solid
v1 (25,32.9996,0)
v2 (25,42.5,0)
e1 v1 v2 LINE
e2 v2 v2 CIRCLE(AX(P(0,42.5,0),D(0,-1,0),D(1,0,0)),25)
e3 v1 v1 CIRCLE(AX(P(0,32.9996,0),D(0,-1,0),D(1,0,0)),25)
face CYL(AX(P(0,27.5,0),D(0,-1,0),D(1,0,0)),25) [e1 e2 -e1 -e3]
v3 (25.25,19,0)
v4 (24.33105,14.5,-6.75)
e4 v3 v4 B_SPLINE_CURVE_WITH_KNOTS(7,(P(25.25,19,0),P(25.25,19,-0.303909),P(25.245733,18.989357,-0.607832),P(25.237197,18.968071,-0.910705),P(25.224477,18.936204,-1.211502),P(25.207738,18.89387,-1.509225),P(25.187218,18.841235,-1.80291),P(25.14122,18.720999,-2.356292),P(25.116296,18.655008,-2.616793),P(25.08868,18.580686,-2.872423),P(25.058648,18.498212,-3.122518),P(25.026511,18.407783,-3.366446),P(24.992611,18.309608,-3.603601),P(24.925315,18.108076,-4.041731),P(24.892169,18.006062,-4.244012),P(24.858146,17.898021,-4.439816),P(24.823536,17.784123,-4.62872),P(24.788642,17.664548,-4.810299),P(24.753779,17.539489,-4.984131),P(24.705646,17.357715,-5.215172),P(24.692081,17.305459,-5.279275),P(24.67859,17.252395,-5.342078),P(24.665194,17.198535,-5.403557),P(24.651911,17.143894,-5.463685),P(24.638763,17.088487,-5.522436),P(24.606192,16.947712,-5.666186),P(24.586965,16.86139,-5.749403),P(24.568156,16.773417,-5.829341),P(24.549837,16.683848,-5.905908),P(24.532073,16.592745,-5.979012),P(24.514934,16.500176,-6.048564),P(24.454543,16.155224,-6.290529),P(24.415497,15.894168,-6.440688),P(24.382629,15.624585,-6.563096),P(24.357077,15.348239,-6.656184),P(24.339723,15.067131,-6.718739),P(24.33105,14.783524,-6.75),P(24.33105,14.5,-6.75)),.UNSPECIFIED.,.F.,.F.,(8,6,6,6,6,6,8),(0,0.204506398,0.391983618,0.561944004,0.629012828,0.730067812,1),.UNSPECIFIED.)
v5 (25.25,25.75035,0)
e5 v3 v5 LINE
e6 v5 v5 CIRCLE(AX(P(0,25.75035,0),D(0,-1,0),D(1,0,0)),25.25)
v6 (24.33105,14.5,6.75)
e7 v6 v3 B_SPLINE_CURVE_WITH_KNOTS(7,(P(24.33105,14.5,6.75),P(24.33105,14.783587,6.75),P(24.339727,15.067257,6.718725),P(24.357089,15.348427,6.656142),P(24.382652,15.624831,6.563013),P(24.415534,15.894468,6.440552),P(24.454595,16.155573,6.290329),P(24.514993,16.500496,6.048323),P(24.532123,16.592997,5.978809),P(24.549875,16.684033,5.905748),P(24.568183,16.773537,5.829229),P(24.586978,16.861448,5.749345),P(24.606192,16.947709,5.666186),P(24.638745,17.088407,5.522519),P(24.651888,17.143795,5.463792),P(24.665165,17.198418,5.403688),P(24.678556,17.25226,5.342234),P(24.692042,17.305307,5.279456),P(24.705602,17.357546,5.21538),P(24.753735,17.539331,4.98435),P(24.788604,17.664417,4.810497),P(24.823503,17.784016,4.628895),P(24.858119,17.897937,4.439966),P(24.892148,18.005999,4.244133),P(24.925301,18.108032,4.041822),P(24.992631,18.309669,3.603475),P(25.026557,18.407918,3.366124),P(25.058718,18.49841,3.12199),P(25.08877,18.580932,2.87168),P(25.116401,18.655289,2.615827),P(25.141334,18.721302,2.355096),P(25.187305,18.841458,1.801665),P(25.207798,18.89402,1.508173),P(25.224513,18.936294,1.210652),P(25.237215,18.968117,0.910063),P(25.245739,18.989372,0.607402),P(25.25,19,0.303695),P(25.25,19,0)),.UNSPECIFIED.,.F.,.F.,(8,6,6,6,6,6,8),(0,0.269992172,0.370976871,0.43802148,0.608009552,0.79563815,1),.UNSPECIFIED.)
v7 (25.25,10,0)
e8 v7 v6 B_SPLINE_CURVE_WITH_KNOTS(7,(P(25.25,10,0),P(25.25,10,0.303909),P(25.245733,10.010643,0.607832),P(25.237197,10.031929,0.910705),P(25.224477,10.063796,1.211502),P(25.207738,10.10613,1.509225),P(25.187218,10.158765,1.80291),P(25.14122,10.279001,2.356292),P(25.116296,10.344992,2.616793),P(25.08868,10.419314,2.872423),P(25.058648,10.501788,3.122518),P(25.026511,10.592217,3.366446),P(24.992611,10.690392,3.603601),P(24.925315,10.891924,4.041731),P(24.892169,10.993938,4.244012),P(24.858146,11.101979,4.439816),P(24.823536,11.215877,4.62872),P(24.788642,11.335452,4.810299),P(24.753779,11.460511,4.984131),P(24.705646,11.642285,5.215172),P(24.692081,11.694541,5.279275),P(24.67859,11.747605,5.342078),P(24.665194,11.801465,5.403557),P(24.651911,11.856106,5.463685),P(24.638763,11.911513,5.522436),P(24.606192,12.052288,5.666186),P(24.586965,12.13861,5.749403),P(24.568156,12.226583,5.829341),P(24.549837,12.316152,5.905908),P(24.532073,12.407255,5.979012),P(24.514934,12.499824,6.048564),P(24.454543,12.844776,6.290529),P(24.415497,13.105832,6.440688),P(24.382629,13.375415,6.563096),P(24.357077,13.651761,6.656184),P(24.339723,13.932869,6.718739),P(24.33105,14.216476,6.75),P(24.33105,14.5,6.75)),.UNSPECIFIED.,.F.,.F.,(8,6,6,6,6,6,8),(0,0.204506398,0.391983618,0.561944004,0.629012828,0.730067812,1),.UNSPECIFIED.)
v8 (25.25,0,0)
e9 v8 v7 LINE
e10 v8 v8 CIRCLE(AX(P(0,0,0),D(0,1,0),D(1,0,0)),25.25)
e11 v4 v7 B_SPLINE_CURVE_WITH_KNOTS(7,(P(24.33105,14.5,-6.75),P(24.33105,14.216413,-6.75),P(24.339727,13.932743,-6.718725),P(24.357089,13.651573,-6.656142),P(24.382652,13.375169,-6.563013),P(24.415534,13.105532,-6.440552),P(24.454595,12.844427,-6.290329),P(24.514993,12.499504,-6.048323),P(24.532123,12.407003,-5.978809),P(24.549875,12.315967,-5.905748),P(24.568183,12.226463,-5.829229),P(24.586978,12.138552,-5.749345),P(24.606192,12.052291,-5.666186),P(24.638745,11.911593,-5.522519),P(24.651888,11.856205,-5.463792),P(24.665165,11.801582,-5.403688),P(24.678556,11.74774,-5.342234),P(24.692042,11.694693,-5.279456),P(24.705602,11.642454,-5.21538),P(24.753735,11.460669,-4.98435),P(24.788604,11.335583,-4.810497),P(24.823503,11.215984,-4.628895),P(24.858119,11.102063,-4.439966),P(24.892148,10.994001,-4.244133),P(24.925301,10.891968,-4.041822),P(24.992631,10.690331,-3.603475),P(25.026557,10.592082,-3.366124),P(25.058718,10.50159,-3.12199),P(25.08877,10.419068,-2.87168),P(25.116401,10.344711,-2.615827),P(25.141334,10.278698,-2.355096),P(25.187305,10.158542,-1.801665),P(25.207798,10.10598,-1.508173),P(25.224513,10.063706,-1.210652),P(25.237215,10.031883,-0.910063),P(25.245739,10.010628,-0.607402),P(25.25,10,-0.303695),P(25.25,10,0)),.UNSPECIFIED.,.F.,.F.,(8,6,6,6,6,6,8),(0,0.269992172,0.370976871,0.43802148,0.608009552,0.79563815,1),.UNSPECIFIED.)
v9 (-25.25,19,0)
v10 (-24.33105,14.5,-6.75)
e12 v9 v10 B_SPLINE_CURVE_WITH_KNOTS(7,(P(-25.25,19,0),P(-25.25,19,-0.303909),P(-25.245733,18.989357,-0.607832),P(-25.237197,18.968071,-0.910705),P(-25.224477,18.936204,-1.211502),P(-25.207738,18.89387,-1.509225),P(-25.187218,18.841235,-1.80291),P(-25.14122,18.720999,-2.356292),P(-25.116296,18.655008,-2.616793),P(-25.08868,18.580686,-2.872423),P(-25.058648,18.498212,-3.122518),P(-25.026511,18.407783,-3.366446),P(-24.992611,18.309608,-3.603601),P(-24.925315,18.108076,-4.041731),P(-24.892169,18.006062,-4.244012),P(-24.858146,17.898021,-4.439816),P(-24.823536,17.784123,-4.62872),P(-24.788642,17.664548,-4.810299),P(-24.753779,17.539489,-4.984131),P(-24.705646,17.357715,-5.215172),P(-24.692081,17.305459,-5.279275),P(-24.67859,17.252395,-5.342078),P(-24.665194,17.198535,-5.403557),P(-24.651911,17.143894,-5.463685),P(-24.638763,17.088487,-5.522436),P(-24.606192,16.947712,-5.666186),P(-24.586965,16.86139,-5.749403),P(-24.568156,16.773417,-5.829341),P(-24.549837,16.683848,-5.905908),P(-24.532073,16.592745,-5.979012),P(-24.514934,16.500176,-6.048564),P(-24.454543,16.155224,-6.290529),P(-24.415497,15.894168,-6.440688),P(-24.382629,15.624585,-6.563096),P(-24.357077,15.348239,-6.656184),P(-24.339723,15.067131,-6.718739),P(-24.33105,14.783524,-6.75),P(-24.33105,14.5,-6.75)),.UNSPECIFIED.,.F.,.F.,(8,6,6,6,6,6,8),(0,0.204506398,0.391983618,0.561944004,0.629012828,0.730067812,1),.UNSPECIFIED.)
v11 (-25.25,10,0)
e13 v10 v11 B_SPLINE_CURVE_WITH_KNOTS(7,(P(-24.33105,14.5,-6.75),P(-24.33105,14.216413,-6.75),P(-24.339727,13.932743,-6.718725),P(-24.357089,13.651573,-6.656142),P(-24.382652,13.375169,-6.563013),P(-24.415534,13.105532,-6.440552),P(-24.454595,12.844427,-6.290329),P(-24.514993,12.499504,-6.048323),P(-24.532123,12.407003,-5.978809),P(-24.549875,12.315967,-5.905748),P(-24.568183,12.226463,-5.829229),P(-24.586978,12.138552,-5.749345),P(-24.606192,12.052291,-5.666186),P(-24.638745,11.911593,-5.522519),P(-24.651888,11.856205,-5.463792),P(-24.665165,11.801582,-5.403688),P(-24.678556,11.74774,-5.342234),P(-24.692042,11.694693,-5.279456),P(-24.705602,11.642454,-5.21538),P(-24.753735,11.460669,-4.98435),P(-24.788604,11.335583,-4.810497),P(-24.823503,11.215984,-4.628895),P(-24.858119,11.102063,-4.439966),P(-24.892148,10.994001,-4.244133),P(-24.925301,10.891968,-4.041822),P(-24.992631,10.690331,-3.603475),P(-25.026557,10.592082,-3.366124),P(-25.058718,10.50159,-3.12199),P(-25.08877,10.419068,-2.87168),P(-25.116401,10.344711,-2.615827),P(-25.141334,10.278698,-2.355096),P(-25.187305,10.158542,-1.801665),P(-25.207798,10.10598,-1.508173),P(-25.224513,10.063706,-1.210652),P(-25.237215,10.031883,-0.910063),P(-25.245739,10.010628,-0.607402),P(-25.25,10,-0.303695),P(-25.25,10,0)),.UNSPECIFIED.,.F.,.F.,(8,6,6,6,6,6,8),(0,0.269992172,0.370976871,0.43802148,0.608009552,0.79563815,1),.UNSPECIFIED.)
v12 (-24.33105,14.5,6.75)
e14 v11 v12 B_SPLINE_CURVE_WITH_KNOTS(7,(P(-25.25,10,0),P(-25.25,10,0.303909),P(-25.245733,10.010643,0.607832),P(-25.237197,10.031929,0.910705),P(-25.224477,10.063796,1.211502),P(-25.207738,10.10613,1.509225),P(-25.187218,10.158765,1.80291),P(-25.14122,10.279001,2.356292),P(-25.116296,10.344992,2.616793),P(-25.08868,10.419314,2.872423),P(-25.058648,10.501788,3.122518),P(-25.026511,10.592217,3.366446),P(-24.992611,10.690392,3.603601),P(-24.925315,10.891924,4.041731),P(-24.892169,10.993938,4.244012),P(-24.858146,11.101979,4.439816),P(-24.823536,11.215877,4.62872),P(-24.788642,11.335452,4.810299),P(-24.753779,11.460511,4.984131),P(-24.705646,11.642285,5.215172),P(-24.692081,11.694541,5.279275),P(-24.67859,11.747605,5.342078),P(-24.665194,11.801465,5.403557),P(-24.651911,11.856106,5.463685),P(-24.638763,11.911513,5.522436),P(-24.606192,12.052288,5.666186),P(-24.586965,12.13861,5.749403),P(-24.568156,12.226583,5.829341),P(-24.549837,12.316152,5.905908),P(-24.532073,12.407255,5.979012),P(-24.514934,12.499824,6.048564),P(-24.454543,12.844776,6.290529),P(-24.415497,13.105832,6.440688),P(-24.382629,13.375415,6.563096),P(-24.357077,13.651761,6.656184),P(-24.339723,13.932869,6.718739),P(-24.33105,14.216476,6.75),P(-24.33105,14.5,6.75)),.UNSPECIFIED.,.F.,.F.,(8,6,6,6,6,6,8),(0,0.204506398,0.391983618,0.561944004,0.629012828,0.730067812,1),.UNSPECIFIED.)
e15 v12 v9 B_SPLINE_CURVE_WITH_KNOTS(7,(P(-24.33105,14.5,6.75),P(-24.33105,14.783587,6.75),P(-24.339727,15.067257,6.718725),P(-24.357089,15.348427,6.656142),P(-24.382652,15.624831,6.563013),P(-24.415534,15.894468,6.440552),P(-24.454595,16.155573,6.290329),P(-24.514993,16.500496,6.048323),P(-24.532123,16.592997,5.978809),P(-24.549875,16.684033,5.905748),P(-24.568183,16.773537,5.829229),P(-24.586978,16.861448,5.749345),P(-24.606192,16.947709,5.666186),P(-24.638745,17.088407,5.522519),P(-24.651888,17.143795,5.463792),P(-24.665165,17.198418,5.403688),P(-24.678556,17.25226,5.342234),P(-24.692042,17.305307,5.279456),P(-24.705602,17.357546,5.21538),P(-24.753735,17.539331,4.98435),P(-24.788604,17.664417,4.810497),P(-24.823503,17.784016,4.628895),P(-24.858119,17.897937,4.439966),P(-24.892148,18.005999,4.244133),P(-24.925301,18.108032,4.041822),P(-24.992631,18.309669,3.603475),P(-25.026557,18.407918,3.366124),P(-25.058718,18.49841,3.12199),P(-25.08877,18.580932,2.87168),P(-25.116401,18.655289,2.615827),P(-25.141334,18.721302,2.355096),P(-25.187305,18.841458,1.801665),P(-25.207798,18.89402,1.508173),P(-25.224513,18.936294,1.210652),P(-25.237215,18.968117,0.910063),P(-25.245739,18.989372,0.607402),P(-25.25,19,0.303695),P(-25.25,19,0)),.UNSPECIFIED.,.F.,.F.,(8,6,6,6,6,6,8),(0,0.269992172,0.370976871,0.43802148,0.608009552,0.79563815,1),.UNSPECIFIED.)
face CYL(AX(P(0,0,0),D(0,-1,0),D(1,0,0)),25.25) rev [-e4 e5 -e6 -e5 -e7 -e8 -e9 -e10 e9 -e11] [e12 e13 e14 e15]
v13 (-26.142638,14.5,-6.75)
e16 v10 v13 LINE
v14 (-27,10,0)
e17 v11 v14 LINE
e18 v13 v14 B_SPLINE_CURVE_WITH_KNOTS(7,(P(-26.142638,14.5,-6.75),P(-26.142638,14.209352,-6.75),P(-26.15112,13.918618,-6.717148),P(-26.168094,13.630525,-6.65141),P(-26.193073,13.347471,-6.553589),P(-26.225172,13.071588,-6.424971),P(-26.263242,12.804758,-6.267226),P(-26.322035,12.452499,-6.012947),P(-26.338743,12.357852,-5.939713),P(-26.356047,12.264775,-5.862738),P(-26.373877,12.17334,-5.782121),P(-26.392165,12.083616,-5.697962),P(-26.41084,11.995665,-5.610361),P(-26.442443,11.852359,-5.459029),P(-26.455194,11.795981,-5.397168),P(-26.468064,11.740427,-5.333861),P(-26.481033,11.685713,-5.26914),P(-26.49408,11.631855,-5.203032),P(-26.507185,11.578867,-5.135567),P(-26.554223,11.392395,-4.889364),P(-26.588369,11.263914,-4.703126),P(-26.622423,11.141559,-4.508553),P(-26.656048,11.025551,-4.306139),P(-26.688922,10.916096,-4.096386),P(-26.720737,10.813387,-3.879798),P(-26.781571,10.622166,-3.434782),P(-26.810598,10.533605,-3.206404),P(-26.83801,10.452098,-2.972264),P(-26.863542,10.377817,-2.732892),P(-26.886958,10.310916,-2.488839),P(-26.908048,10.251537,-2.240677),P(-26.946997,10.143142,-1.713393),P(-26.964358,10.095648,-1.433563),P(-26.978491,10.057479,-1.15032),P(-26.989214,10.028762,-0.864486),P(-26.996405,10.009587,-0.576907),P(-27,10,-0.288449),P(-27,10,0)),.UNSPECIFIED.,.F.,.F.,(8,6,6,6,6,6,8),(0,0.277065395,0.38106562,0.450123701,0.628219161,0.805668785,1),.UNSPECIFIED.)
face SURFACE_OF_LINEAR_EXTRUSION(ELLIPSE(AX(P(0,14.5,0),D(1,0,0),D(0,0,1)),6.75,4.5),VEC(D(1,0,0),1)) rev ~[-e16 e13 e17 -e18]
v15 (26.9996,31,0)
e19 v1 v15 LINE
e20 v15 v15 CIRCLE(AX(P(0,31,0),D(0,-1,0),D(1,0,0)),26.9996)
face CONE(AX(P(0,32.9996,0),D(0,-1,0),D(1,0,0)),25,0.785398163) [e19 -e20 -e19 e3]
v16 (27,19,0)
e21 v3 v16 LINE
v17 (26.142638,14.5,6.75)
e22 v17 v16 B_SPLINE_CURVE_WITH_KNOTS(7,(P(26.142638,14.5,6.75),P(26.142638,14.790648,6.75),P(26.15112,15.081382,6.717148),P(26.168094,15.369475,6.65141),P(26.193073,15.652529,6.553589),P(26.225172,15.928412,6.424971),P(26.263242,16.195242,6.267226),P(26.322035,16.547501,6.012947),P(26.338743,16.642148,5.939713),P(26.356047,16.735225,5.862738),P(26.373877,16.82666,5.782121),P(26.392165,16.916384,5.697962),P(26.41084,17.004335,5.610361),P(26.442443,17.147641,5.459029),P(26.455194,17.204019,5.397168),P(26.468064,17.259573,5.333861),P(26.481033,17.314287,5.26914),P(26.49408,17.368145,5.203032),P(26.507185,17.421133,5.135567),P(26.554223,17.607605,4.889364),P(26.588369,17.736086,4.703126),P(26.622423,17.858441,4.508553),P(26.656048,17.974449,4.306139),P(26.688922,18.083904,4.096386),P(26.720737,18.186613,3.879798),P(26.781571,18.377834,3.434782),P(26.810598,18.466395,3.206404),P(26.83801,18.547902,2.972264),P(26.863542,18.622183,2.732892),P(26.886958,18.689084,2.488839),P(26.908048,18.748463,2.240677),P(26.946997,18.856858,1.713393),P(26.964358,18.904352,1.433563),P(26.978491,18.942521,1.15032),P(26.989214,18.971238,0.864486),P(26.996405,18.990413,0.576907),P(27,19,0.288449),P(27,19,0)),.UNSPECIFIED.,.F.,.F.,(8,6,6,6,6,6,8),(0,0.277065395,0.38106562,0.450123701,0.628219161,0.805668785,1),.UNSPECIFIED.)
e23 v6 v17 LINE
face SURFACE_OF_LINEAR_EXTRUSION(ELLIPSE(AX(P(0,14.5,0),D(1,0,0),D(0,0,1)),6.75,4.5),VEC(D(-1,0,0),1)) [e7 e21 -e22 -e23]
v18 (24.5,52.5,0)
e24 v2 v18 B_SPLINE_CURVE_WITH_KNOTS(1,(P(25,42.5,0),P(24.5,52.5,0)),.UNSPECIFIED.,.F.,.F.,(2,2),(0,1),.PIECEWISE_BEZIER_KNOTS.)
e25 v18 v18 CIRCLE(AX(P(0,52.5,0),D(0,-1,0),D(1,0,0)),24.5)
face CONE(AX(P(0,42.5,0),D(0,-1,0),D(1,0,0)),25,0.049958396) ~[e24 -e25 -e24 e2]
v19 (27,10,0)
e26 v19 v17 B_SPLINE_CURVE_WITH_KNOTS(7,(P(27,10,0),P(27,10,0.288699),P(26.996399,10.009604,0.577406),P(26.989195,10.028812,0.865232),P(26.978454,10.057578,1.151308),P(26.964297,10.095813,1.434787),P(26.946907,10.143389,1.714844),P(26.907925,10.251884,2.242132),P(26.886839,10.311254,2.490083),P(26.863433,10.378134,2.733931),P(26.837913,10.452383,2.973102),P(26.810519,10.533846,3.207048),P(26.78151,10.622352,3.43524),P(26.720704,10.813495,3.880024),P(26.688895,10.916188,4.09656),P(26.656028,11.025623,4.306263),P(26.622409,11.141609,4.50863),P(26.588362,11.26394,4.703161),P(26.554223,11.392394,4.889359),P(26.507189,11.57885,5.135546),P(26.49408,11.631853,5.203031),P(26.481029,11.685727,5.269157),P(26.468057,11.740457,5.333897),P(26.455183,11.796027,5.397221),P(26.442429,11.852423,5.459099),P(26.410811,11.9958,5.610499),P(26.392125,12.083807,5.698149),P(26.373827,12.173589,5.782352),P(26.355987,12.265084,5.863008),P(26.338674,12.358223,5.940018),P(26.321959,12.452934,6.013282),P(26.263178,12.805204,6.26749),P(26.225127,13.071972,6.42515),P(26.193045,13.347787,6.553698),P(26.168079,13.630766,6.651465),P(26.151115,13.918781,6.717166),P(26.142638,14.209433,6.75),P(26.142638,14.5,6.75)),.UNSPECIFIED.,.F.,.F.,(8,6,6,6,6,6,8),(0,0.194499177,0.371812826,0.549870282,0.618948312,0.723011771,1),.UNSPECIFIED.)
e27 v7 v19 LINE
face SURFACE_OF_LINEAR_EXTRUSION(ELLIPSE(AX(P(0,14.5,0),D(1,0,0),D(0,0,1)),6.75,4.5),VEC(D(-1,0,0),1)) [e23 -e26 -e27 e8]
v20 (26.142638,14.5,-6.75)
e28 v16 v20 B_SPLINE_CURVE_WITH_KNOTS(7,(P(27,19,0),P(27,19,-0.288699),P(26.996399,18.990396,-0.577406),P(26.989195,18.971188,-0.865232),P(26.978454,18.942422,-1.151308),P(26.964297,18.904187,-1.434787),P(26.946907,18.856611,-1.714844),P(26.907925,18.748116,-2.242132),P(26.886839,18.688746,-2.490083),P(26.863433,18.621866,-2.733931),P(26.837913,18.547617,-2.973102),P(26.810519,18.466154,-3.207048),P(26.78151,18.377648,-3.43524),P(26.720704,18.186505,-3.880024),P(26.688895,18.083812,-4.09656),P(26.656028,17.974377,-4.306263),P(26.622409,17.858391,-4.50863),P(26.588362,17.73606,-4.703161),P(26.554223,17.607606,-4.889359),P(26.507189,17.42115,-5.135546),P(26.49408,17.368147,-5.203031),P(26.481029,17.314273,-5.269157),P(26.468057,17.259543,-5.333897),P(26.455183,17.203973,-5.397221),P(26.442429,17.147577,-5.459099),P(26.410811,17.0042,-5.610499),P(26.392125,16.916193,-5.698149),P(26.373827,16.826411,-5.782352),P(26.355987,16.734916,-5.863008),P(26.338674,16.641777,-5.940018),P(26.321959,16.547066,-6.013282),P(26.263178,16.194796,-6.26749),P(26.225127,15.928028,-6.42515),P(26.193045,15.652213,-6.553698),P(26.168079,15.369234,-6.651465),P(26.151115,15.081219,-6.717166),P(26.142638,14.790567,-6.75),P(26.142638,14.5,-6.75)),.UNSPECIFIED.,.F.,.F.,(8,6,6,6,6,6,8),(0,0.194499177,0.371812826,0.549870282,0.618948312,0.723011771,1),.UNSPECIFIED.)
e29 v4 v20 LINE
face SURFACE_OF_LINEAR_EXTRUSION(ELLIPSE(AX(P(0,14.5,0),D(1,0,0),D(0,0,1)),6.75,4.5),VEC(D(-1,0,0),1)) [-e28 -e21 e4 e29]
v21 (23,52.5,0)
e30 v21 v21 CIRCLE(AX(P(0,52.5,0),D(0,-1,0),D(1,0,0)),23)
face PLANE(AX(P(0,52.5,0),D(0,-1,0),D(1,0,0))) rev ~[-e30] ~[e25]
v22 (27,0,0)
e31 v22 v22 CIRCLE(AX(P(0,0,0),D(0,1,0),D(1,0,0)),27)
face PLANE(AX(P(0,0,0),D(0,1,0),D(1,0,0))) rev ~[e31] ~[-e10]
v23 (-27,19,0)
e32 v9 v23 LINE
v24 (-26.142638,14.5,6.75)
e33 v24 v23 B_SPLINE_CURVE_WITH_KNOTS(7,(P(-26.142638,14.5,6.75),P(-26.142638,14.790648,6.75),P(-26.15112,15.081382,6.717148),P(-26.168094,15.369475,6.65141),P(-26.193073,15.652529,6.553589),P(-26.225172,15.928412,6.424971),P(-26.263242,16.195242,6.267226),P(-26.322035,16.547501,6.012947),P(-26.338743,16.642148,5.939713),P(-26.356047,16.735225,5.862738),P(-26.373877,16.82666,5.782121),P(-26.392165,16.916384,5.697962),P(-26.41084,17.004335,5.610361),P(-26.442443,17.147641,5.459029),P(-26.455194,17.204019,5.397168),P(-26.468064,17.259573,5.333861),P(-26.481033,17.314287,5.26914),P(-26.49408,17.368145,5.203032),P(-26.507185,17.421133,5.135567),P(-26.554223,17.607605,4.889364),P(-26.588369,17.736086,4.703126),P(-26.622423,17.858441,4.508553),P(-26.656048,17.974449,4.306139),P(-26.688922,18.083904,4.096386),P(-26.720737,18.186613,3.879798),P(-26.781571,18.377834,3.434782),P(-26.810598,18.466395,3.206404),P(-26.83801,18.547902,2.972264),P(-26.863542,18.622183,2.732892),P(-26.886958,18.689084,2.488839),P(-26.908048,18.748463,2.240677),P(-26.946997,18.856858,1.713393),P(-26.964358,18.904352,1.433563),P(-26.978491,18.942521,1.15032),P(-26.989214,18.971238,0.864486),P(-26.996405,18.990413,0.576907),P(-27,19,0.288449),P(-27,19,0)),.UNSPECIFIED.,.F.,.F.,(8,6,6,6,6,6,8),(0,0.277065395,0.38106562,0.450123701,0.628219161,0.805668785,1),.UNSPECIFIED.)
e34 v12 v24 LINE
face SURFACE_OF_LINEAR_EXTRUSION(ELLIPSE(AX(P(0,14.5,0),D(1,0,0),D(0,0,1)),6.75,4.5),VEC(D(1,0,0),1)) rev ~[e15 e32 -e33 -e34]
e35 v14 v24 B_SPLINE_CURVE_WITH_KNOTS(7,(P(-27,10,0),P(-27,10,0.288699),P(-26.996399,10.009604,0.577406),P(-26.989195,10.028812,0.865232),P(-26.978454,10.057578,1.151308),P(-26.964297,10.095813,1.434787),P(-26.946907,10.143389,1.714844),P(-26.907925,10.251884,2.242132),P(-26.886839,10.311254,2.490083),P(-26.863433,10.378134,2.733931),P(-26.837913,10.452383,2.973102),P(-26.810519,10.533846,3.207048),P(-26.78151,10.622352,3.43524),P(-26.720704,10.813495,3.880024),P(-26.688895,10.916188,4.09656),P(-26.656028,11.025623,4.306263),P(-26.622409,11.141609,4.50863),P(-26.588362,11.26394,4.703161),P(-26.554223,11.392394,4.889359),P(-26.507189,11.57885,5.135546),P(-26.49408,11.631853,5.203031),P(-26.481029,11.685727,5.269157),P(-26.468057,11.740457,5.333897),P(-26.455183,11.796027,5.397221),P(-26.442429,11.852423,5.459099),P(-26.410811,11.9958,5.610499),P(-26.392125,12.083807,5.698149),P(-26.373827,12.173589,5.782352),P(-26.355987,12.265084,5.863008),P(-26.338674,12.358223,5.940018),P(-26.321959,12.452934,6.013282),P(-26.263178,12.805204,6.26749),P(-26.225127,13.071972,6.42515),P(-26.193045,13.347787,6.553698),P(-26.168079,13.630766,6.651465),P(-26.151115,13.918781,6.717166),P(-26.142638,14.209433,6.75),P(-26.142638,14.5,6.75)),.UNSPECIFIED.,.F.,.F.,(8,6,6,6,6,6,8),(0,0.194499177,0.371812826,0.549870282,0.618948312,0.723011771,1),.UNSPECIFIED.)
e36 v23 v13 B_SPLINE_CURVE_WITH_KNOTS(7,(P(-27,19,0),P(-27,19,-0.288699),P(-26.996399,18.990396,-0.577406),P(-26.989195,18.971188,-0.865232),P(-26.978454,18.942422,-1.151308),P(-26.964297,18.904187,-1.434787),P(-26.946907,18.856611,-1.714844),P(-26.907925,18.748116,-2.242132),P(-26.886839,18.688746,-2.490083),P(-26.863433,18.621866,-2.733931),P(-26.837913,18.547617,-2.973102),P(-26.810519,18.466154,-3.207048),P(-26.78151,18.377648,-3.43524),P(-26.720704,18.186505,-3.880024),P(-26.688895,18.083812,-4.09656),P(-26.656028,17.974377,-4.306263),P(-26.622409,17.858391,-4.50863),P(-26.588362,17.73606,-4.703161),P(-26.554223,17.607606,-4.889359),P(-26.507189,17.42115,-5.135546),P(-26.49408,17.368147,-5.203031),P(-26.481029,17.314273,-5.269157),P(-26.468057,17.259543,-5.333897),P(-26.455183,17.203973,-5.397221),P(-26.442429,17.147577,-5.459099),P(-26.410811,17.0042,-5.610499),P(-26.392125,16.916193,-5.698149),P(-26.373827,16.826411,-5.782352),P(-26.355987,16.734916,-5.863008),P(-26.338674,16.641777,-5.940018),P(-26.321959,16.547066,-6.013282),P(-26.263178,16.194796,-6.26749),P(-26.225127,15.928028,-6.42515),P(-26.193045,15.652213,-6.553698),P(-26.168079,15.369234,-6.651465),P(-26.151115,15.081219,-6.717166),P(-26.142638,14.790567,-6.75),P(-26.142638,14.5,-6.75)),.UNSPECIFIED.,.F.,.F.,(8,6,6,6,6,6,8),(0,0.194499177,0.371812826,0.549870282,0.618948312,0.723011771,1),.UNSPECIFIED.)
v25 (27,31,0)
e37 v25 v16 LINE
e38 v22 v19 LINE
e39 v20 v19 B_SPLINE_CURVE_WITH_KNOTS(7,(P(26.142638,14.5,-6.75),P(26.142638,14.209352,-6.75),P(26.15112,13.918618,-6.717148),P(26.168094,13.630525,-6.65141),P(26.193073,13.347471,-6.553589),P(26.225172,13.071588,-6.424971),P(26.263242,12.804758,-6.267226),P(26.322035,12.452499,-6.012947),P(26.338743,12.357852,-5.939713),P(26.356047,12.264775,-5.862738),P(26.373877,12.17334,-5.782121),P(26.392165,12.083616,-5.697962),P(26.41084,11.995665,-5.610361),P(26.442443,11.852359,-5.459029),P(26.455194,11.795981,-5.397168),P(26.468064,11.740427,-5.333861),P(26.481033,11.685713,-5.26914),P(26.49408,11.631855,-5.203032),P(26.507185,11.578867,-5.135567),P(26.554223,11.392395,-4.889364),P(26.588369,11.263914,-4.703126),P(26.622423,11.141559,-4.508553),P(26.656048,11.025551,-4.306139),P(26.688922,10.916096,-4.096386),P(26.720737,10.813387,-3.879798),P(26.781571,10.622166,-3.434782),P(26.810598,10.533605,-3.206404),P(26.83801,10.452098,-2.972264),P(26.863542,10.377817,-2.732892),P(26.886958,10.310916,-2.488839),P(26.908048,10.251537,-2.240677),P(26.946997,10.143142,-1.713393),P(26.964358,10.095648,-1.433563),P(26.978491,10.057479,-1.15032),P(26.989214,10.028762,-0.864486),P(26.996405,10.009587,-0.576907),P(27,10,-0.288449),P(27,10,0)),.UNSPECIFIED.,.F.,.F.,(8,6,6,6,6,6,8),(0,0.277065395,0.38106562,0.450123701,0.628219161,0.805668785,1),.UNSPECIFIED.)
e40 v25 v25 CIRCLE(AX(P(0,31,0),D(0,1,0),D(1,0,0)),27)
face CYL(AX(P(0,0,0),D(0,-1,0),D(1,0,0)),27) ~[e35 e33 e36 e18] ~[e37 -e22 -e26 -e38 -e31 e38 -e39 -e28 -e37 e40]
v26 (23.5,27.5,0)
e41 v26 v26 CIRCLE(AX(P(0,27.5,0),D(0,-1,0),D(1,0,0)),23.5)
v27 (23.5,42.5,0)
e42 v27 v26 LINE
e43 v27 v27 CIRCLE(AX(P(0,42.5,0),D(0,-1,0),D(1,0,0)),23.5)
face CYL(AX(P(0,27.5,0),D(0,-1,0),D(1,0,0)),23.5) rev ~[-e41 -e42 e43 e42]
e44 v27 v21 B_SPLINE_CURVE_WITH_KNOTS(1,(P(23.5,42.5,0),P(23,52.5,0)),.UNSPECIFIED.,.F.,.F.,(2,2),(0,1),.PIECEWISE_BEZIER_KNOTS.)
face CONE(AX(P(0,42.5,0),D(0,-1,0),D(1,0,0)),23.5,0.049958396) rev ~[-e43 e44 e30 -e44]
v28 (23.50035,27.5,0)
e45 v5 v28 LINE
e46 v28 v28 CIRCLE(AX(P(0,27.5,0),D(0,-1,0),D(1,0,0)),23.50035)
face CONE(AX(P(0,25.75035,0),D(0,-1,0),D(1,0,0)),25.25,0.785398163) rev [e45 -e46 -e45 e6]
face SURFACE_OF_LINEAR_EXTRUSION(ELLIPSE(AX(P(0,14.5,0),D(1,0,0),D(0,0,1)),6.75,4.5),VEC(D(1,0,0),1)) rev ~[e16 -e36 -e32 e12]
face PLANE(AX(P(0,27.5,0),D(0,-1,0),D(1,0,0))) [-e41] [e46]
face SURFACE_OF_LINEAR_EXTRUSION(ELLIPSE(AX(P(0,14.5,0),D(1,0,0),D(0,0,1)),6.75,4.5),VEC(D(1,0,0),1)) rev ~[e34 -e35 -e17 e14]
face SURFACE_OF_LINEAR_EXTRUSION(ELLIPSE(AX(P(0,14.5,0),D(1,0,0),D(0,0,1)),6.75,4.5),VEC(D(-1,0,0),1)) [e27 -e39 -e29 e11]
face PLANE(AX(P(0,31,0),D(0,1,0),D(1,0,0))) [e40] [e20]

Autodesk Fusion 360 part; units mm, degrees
sketch "Sketch2" plane through (0, 0, 0) normal (0, 1, 0) x (1, 0, 0)
  circle A0 centre (0, 0) radius 24
  circle A1 centre (0, 0) radius 25.25
  circle A2 centre (0, 0) radius 27
  dimension "d6" = 48
  dimension "d29" = 50.5
  dimension "d37" = 54
extrude "Extrude1" add sketch "Sketch2" along normal blind 31 contours A2
sketch "Sketch3" plane through (0, 0, 0) normal (1, 0, 0) x (0, 0, -1)
  ellipse E0 centre (0, 14.5) end of major axis (-6.75, 14.5) minor radius 4.5
  line L0 (6.75, 14.5) -> (-6.75, 14.5)
  line L1 (0, 19) -> (0, 10)
  dimension "d18" = 13.5
  dimension "d20" = 14.5
  dimension "d49" = 4.5
extrude "Extrude8" cut sketch "Sketch3" along normal mid plane 60
ref_plane "WorkPlane3" through (0, 27.5, 0) normal (0, -1, 0) x (-1, 0, 0)
ref_plane "WorkPlane4" through (0, 52.5, 0) normal (0, -1, 0) x (-1, 0, 0)
sketch "Sketch7" plane through (0, 52.5, 0) normal (0, -1, 0) x (1, 0, 0)
  circle A0 centre (0, 0) radius 23
  circle A1 centre (0, 0) radius 24.5
  dimension "d63" = 46
  dimension "d64" = 49
sketch "Sketch8" plane through (0, 27.5, 0) normal (0, -1, 0) x (1, 0, 0)
  circle A0 centre (0, 0) radius 25
  circle A1 centre (0, 0) radius 23.5
  circle A2 centre (0, 0) radius 27
  dimension "d67" = 50
  dimension "d68" = 47
  dimension "d76" = 54
ref_plane "WorkPlane5" through (0, 42.5, 0) normal (0, -1, 0) x (1, 0, 0)
sketch "Sketch10" plane through (0, 42.5, 0) normal (0, -1, 0) x (1, 0, 0)
  circle A0 centre (0, 0) radius 23.5
  circle A1 centre (0, 0) radius 25
  dimension "d70" = 47
  dimension "d71" = 50
extrude "Extrude14" add sketch "Sketch8" against normal blind 3.5 contours A0 | A2
extrude "Extrude13" add sketch "Sketch8" against normal blind 15 contours A0
loft "Loft1" add profiles "Sketch10", "Sketch7" section 1 section 2
loft "Loft2" cut profiles "Sketch7", "Sketch10" section 1 contours A0 section 2 contours A0
chamfer "Chamfer5" distance 2 angle 45 1 edges at (-23.3082, 31, -9.0404)
chamfer "Chamfer6" distance 1.75 angle 45 1 edges at (-23.5413, 27.5, 9.1308)
